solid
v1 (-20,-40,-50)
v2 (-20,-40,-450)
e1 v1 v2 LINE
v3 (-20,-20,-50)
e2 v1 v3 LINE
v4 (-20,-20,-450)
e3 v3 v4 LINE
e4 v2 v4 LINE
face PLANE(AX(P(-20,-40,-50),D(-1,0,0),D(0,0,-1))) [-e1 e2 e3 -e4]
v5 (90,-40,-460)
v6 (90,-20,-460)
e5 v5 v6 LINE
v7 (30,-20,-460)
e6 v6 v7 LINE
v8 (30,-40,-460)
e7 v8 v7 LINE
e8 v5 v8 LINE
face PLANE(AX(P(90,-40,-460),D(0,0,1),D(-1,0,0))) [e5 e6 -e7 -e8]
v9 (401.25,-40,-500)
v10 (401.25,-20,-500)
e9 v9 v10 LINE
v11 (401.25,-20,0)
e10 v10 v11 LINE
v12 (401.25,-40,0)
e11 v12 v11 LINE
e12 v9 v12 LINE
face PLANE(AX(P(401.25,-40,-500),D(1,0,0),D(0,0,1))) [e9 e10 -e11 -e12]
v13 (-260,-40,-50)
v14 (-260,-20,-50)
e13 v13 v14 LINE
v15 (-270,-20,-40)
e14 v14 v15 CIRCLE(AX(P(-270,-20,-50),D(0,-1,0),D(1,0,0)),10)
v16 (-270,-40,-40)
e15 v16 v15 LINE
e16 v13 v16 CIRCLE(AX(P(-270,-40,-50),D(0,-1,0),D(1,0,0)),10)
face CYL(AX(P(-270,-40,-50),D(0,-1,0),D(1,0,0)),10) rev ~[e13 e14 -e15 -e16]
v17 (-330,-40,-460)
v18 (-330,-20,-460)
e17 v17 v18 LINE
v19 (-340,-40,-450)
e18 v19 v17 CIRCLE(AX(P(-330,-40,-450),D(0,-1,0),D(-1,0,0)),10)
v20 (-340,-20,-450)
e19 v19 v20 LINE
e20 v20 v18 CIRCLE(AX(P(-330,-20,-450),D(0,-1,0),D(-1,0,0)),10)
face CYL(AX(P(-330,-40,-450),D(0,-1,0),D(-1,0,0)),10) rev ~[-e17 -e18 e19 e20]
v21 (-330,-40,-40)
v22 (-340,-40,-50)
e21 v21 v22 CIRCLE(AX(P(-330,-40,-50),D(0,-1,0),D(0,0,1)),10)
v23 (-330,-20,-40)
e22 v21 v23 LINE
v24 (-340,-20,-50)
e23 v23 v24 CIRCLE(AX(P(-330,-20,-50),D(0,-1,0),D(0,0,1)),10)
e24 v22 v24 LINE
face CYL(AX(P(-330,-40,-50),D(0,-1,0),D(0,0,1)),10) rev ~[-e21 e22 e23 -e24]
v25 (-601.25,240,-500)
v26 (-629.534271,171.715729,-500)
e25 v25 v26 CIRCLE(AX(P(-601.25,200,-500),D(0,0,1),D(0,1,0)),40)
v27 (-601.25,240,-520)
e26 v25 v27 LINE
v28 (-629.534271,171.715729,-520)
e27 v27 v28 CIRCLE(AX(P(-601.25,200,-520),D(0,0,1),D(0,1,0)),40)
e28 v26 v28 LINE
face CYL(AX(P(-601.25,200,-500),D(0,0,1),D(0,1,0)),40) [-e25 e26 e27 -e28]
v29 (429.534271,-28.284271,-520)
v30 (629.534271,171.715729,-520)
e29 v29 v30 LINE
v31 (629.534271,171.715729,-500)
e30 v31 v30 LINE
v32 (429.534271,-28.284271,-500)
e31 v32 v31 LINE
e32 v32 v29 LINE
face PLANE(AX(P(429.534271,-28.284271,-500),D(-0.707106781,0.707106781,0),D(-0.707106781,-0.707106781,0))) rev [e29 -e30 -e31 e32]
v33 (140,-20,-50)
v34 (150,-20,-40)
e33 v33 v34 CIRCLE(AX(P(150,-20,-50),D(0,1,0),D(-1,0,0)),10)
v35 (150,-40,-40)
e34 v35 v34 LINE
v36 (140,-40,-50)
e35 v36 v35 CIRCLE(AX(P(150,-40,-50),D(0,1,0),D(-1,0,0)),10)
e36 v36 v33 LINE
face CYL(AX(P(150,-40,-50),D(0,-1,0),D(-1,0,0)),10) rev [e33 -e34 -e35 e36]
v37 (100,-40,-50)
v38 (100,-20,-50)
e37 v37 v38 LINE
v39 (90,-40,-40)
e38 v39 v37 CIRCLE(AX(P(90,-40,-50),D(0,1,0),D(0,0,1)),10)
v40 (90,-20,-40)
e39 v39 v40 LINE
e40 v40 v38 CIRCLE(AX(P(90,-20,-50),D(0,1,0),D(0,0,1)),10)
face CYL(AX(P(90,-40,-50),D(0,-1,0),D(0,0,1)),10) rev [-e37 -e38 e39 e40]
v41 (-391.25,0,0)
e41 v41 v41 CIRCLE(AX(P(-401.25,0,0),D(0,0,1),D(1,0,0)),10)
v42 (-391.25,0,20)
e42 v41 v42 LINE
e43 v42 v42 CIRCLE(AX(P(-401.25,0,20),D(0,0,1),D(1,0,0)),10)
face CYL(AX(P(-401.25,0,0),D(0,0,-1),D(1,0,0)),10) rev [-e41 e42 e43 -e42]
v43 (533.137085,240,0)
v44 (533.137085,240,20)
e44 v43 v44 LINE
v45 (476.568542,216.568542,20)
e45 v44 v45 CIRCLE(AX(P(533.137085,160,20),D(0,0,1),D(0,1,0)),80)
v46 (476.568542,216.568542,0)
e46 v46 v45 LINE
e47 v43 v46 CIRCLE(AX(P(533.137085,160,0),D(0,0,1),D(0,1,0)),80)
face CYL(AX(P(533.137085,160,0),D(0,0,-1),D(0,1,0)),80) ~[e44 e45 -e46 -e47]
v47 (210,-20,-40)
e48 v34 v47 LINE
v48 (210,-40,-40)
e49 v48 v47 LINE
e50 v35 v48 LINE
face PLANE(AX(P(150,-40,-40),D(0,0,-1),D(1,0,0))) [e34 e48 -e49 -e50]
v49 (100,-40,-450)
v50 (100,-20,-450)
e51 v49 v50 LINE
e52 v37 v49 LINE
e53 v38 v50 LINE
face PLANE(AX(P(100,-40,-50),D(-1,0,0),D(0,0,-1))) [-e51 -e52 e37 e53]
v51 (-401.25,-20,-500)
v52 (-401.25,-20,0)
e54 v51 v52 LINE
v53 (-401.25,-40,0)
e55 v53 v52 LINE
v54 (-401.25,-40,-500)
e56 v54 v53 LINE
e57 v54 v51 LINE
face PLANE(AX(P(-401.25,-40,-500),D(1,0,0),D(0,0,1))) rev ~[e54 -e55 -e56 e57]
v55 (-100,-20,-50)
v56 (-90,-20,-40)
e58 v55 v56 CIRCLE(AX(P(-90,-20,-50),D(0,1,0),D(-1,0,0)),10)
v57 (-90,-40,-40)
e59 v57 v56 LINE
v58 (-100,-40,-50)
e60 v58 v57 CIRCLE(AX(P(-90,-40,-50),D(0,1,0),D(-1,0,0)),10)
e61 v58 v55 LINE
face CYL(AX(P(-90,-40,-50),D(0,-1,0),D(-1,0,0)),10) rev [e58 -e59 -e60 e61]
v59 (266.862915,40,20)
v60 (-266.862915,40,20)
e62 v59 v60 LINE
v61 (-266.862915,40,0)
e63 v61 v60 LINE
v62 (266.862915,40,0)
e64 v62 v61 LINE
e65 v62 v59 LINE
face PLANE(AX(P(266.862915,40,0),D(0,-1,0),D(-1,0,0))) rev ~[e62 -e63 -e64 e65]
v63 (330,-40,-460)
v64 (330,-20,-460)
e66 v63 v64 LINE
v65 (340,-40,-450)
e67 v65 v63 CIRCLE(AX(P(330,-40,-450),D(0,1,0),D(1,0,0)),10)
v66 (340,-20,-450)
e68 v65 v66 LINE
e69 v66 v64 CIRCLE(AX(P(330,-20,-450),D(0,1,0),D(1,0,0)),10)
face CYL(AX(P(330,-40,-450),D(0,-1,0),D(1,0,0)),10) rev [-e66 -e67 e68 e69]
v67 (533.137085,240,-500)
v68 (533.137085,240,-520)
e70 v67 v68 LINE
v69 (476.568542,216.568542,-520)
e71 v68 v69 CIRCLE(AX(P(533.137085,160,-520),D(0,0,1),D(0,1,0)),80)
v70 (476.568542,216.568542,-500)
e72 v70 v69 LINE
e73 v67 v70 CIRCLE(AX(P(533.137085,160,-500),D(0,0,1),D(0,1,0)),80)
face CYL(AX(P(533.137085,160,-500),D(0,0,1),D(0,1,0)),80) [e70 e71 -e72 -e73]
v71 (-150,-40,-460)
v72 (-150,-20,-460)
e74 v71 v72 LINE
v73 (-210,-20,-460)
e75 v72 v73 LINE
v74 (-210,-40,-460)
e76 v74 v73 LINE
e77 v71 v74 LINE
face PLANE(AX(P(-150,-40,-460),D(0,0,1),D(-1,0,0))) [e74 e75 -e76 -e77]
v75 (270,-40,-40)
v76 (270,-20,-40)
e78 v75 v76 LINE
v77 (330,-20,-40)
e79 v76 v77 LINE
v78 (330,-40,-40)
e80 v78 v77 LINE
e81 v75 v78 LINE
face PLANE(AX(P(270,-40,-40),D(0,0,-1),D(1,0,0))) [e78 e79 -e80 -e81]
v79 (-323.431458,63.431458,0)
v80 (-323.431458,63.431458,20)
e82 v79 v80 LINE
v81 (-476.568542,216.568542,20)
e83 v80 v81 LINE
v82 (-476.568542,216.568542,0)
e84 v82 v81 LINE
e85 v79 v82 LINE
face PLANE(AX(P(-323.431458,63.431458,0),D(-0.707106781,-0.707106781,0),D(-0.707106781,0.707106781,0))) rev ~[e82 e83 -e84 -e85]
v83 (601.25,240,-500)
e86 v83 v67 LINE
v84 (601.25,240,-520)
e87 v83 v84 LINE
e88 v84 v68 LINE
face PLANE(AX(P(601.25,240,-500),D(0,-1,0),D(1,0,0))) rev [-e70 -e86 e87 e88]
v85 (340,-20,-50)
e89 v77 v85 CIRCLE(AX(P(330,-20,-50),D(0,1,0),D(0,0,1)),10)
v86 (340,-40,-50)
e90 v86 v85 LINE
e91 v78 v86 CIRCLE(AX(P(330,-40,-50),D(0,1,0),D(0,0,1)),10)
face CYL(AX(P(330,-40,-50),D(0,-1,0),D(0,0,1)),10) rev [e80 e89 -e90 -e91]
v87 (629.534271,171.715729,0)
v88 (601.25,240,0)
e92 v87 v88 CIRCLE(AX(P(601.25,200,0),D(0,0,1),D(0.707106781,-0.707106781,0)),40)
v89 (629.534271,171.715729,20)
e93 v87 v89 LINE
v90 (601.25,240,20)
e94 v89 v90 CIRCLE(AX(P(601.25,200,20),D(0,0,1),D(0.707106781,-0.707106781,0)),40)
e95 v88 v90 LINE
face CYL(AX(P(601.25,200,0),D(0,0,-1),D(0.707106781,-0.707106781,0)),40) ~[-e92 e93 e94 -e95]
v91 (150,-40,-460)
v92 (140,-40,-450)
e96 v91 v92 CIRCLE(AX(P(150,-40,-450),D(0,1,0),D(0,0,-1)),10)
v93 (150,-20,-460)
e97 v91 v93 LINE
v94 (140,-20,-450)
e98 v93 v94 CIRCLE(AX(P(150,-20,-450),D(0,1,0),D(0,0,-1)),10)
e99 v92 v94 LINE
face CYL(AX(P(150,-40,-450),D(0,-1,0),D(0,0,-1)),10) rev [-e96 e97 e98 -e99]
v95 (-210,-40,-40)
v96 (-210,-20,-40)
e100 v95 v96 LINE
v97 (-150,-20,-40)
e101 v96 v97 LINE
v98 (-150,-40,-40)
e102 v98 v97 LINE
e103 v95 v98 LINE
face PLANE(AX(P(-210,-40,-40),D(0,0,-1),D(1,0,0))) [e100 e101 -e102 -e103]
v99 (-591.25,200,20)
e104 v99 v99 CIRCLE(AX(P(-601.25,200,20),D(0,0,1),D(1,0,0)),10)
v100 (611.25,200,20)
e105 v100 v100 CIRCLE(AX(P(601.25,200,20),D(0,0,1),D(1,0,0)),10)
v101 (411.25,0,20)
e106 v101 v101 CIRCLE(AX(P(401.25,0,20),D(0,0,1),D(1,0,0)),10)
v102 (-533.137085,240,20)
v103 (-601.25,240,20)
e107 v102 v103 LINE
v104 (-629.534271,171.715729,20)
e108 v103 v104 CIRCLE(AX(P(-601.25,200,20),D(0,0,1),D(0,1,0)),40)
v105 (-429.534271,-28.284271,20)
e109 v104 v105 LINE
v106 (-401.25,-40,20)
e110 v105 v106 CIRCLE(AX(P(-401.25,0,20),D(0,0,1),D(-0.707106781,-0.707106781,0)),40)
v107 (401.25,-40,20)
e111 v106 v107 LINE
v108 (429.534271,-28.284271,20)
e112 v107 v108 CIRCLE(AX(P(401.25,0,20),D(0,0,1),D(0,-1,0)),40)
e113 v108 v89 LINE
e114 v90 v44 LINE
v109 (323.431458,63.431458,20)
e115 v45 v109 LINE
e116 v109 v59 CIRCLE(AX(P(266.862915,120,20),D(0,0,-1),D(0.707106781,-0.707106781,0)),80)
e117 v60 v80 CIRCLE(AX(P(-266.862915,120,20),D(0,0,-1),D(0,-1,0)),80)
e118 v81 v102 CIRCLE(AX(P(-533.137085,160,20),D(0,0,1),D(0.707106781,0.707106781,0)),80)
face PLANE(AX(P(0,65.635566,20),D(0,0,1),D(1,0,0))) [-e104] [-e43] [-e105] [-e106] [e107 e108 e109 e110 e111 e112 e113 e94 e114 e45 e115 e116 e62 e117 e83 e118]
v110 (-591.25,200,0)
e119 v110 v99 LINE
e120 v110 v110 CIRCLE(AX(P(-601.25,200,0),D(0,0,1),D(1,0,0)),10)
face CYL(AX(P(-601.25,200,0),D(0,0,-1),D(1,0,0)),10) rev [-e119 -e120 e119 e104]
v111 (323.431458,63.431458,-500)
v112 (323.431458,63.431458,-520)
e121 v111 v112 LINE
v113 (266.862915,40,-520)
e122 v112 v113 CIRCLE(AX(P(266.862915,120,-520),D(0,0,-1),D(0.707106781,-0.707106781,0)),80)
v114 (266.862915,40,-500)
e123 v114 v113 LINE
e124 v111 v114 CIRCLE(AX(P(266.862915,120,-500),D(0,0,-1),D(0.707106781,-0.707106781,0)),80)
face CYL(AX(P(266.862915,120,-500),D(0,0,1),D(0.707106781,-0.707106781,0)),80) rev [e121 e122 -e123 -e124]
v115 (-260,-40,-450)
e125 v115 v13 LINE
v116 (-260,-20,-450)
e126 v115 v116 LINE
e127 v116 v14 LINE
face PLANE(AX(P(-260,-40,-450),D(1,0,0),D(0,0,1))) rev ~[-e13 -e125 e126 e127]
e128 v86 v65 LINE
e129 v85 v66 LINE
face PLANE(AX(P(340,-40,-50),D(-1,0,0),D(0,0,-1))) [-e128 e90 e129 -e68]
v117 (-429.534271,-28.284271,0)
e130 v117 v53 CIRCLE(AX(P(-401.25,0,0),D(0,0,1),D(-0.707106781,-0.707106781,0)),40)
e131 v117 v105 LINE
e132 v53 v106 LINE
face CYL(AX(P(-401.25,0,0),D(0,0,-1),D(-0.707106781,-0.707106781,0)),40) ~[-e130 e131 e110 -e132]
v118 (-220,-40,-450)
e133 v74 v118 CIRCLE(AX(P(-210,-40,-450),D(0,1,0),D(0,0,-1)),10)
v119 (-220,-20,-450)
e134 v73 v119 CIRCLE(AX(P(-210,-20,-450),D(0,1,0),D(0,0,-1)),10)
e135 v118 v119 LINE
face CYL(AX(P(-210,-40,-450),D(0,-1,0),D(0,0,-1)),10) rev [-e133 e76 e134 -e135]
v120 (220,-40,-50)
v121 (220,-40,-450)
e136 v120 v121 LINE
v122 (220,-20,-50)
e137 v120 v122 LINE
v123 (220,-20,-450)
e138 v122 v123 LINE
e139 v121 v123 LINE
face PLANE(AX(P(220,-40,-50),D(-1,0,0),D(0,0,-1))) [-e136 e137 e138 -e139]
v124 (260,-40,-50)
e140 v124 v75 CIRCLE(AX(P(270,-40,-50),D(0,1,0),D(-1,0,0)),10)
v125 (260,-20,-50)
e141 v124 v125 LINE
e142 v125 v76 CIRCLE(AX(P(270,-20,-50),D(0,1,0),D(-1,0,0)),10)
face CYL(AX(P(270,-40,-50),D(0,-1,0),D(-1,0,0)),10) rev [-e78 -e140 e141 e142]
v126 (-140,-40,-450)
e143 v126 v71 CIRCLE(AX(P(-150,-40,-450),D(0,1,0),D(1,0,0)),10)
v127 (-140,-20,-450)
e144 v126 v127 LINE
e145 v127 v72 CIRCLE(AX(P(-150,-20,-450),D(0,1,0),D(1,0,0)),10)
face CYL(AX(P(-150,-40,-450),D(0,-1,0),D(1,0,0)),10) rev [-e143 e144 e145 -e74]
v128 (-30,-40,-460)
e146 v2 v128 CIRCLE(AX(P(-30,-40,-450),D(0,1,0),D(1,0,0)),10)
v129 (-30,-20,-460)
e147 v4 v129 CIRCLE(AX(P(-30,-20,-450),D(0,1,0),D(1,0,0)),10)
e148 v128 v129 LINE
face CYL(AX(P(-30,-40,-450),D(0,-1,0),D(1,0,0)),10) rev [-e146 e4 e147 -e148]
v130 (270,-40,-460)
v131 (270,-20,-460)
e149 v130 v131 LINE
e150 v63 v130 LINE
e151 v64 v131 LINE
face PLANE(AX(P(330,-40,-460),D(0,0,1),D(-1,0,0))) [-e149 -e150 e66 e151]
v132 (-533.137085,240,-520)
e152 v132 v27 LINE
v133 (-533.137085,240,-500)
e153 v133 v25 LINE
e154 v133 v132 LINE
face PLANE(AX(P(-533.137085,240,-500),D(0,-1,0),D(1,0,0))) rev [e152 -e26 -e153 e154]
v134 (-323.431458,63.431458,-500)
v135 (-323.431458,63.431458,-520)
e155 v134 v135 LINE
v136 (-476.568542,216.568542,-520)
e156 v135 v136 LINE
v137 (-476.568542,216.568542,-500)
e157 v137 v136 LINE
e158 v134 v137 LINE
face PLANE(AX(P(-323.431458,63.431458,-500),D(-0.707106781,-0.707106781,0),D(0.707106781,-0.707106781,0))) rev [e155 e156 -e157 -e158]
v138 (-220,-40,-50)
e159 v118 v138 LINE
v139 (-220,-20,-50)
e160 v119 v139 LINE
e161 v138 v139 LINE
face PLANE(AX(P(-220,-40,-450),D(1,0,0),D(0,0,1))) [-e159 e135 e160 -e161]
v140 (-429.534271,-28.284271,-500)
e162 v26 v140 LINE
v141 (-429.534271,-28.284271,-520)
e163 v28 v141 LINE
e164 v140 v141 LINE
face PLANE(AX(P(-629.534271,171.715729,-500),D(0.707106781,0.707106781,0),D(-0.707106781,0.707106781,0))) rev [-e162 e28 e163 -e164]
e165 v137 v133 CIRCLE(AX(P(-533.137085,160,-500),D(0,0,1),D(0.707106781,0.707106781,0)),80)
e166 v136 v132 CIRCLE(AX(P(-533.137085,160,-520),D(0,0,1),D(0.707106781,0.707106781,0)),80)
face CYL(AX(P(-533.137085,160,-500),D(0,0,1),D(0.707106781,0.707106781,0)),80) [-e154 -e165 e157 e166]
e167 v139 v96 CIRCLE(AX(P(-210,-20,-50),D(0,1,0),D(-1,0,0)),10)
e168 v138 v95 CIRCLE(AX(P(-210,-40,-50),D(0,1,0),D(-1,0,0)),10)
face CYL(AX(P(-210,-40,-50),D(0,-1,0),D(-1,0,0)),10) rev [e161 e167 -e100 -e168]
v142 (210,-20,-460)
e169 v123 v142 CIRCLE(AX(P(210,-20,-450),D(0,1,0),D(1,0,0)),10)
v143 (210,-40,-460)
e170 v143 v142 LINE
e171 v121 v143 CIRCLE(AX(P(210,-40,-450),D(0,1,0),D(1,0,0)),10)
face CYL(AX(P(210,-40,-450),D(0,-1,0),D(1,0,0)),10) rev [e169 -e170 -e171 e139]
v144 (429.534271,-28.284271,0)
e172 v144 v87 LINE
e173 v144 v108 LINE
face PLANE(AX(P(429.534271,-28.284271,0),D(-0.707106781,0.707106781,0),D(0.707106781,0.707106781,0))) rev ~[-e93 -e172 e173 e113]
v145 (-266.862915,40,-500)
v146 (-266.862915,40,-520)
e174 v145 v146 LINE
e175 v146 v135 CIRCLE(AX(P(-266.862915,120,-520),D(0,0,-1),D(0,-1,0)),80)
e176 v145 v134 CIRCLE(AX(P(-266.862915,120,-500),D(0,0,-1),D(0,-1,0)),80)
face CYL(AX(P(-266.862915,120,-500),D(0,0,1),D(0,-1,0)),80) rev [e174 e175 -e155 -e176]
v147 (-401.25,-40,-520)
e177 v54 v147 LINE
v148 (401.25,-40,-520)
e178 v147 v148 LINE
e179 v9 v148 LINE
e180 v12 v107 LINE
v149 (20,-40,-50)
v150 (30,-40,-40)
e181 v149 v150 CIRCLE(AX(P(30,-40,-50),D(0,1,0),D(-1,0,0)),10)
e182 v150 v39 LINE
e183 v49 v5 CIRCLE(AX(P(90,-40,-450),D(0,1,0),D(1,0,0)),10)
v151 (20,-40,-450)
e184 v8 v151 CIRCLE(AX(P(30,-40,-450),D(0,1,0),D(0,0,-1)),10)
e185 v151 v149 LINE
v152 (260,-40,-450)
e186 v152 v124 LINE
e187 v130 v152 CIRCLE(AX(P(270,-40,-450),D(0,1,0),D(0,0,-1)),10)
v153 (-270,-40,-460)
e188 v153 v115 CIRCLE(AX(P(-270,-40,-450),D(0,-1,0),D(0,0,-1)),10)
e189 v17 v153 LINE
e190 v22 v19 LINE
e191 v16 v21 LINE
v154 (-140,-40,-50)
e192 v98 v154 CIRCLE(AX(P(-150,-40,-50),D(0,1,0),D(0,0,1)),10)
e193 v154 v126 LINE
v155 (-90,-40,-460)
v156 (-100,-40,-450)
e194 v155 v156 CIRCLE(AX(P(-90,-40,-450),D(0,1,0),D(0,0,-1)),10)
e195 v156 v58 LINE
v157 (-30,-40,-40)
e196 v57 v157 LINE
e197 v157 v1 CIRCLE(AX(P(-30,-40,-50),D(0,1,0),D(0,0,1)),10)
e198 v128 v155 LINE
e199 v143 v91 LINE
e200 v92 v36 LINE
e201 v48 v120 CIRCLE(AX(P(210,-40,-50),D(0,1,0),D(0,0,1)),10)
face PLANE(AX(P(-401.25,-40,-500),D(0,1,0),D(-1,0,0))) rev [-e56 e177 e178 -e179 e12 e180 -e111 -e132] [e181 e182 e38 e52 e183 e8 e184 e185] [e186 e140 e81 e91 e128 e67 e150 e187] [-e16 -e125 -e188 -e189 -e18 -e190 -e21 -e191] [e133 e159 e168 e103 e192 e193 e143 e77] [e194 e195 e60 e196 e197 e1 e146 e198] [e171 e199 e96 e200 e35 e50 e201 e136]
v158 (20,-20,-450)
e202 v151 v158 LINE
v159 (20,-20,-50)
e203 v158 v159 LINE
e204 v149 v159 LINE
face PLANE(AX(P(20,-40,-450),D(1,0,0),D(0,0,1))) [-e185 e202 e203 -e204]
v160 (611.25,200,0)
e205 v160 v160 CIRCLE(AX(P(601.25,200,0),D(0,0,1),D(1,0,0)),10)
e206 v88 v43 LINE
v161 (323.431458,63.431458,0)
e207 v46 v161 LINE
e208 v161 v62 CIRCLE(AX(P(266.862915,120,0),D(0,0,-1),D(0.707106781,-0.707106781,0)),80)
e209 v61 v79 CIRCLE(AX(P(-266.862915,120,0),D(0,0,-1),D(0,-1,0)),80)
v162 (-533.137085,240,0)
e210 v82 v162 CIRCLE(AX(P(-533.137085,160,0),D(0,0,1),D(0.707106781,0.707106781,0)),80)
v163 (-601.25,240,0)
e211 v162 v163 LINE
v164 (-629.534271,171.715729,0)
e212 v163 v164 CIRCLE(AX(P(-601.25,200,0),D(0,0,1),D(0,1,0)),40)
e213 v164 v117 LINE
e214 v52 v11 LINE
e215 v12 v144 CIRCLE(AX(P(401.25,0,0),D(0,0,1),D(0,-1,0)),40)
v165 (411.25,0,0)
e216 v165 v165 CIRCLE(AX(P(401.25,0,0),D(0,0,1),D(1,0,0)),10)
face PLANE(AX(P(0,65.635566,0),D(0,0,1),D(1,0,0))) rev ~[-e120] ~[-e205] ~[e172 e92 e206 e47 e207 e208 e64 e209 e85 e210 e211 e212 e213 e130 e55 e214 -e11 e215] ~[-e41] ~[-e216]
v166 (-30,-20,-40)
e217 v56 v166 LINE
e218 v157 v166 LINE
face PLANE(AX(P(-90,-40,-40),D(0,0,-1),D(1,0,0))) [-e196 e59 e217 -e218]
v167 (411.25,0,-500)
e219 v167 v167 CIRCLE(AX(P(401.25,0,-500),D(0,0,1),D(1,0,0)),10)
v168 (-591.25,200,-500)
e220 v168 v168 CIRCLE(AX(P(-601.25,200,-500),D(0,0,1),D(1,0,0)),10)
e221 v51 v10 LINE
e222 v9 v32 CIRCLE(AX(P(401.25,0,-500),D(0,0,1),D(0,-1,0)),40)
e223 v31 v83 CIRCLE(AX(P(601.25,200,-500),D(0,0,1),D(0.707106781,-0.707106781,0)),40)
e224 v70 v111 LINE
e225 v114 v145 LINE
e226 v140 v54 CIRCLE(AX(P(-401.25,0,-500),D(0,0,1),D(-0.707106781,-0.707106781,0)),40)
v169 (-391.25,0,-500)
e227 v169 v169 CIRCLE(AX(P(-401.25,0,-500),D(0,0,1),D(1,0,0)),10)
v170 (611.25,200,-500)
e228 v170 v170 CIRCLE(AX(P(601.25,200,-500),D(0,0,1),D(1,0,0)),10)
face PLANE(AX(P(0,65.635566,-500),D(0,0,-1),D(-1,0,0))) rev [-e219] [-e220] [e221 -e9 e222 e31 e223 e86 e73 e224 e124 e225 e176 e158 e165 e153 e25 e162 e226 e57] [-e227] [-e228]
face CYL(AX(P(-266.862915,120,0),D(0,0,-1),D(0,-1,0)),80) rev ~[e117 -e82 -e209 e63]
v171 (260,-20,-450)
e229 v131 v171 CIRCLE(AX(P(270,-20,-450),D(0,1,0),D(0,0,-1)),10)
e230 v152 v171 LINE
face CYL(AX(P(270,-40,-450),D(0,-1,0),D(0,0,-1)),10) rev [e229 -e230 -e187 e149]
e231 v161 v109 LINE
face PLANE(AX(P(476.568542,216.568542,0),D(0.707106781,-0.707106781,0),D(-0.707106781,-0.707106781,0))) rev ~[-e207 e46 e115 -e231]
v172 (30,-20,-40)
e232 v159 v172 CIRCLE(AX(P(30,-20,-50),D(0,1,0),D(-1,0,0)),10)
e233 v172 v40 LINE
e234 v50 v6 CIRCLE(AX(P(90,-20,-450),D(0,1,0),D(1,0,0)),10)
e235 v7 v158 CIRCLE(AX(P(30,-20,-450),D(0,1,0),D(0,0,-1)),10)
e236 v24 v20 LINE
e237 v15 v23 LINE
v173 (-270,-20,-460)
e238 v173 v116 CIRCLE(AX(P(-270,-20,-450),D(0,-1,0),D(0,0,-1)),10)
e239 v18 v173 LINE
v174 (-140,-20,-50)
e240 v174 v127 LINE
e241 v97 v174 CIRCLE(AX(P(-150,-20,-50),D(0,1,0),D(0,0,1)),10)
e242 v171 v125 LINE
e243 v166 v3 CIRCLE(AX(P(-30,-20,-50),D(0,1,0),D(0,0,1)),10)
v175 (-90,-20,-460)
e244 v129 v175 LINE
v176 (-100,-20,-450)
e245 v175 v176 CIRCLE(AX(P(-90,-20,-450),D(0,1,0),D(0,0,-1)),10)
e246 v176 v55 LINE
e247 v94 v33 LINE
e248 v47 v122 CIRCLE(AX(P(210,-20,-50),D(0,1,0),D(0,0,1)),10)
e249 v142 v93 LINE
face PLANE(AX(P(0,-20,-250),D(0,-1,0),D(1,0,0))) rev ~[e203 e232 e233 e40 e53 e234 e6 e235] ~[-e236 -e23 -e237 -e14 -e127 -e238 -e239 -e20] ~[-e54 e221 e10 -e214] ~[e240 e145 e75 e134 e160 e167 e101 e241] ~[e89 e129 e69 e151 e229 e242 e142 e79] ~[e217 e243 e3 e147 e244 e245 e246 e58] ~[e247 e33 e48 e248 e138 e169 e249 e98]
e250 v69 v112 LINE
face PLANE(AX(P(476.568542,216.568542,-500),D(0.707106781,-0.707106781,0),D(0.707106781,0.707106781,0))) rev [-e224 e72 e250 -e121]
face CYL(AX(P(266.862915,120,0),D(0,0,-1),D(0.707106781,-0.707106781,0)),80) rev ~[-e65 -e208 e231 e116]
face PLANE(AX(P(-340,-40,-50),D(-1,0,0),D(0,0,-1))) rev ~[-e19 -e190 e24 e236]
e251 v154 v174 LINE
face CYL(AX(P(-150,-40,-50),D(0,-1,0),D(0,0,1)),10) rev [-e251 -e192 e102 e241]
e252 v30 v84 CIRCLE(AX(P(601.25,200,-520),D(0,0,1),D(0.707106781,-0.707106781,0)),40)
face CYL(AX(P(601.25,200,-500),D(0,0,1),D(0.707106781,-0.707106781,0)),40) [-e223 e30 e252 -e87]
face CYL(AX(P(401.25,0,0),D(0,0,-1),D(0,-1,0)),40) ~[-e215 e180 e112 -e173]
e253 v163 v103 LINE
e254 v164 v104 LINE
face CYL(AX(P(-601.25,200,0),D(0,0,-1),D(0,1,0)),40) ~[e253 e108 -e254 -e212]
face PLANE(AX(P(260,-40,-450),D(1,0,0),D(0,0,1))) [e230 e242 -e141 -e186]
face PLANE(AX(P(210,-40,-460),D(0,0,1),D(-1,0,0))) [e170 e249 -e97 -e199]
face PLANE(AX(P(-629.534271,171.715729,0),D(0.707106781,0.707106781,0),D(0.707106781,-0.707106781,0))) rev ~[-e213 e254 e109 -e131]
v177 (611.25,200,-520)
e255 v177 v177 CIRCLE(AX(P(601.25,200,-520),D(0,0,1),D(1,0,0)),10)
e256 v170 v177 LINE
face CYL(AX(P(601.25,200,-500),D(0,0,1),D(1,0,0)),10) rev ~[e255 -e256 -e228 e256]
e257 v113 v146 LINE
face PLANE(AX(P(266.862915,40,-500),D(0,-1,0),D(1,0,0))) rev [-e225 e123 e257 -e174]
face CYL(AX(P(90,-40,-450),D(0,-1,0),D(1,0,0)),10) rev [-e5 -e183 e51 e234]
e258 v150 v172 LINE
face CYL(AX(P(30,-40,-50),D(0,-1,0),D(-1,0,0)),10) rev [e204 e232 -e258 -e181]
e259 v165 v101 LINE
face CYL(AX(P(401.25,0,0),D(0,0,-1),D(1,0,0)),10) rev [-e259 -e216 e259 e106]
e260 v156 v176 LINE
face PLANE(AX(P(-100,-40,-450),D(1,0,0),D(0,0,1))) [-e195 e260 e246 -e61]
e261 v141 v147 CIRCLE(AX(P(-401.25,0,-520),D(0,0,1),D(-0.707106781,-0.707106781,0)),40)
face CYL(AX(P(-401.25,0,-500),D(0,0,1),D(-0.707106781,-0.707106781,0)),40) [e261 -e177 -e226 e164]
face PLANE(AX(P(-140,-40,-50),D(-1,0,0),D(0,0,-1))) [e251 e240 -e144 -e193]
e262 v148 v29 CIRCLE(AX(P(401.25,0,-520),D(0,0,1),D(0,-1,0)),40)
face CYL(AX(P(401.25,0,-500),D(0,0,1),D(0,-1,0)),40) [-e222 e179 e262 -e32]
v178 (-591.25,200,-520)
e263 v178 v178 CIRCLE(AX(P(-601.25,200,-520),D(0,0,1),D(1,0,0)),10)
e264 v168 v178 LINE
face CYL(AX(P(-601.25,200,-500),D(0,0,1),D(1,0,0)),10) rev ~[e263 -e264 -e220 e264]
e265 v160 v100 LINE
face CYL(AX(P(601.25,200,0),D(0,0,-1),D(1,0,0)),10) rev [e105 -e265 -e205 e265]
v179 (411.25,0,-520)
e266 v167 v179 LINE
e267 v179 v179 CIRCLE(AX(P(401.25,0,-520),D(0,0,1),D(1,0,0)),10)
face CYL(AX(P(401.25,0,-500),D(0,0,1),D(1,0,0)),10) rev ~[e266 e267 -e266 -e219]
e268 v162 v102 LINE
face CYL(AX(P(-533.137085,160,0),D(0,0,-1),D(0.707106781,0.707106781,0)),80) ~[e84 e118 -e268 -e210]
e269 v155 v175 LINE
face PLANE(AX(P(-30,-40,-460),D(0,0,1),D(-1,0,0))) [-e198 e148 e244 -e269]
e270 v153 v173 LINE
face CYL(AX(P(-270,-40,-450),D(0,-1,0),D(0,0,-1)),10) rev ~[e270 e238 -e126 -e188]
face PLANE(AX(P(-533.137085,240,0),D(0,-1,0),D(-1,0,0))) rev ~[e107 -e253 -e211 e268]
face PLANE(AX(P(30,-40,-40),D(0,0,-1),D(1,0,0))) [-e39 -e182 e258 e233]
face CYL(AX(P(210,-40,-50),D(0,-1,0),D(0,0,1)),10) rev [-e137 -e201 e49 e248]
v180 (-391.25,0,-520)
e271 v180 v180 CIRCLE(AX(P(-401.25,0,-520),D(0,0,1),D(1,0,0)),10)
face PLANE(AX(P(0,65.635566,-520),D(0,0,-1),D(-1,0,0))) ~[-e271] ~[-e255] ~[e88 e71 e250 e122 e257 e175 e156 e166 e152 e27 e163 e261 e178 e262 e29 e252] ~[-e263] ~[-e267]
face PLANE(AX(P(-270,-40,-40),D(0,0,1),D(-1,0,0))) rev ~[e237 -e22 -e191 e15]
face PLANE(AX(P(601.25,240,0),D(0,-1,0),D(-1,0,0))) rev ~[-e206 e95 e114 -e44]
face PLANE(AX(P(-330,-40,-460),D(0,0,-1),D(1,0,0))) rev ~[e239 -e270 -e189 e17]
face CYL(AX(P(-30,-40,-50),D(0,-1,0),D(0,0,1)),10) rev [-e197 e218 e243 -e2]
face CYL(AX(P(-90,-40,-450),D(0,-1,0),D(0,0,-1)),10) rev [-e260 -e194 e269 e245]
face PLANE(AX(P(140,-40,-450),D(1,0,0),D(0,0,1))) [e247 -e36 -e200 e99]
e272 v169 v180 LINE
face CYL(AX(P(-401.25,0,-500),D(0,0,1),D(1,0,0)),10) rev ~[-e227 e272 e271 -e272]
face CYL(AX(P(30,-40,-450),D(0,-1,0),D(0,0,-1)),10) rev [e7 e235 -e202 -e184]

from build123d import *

# Parameters (mm, degrees)
SKETCH1_R           = 10
BOSS_EXTRUDE1_DEPTH = 20
SKETCH2_W           = 802.5
SKETCH2_H           = 500
BOSS_EXTRUDE3_DEPTH = 20


with BuildPart() as part:
    # Sketch1 → Boss-Extrude1 (new body)
    with BuildSketch(Plane.XY):
        with BuildLine():
            Line((-401.25, -40), (401.25, -40))
            ThreePointArc((401.25, -40), (416.557337295, -36.9551813), (429.534271247, -28.284271247))
            Line((429.534271247, -28.284271247), (629.534271247, 171.715728753))
            ThreePointArc((629.534271247, 171.715728753), (638.2051813, 215.307337295), (601.25, 240))
            Line((601.25, 240), (533.13708499, 240))
            ThreePointArc((533.13708499, 240), (502.522410401, 233.910362601), (476.568542495, 216.568542495))
            Line((476.568542495, 216.568542495), (323.431457505, 63.431457505))
            ThreePointArc((323.431457505, 63.431457505), (297.477589599, 46.089637399), (266.86291501, 40))
            Line((266.86291501, 40), (-266.86291501, 40))
            ThreePointArc((-266.86291501, 40), (-297.477589599, 46.089637399), (-323.431457505, 63.431457505))
            Line((-323.431457505, 63.431457505), (-476.568542495, 216.568542495))
            ThreePointArc((-476.568542495, 216.568542495), (-502.522410401, 233.910362601), (-533.13708499, 240))
            Line((-533.13708499, 240), (-601.25, 240))
            ThreePointArc((-601.25, 240), (-638.2051813, 215.307337295), (-629.534271247, 171.715728753))
            Line((-629.534271247, 171.715728753), (-429.534271247, -28.284271247))
            ThreePointArc((-429.534271247, -28.284271247), (-416.557337295, -36.9551813), (-401.25, -40))
        make_face()
        with Locations((601.25, 200)):
            Circle(SKETCH1_R, mode=Mode.SUBTRACT)
        with Locations((401.25, 0)):
            Circle(SKETCH1_R, mode=Mode.SUBTRACT)
        with Locations((-401.25, 0)):
            Circle(SKETCH1_R, mode=Mode.SUBTRACT)
        with Locations((-601.25, 200)):
            Circle(SKETCH1_R, mode=Mode.SUBTRACT)
    boss_extrude1 = extrude(amount=BOSS_EXTRUDE1_DEPTH)

    # Sketch2 → Boss-Extrude3 (add)
    with BuildSketch(Plane.XZ.offset(40)):
        with Locations((0, -250)):
            Rectangle(SKETCH2_W, SKETCH2_H)
        with BuildLine():
            Line((-330, -460), (-270, -460))
            ThreePointArc((-270, -460), (-262.928932188, -457.071067812), (-260, -450))
            Line((-260, -450), (-260, -50))
            ThreePointArc((-260, -50), (-262.928932188, -42.928932188), (-270, -40))
            Line((-270, -40), (-330, -40))
            ThreePointArc((-330, -40), (-337.071067812, -42.928932188), (-340, -50))
            Line((-340, -50), (-340, -450))
            ThreePointArc((-340, -450), (-337.071067812, -457.071067812), (-330, -460))
        make_face(mode=Mode.SUBTRACT)
        with BuildLine():
            Line((-220, -450), (-220, -50))
            ThreePointArc((-220, -50), (-217.071067812, -42.928932188), (-210, -40))
            Line((-210, -40), (-150, -40))
            ThreePointArc((-150, -40), (-142.928932188, -42.928932188), (-140, -50))
            Line((-140, -50), (-140, -450))
            ThreePointArc((-140, -450), (-142.928932188, -457.071067812), (-150, -460))
            Line((-150, -460), (-210, -460))
            ThreePointArc((-210, -460), (-217.071067812, -457.071067812), (-220, -450))
        make_face(mode=Mode.SUBTRACT)
        with BuildLine():
            Line((-100, -450), (-100, -50))
            ThreePointArc((-100, -50), (-97.071067812, -42.928932188), (-90, -40))
            Line((-90, -40), (-30, -40))
            ThreePointArc((-30, -40), (-22.928932188, -42.928932188), (-20, -50))
            Line((-20, -50), (-20, -450))
            ThreePointArc((-20, -450), (-22.928932188, -457.071067812), (-30, -460))
            Line((-30, -460), (-90, -460))
            ThreePointArc((-90, -460), (-97.071067812, -457.071067812), (-100, -450))
        make_face(mode=Mode.SUBTRACT)
        with BuildLine():
            Line((20, -450), (20, -50))
            ThreePointArc((20, -50), (22.928932188, -42.928932188), (30, -40))
            Line((30, -40), (90, -40))
            ThreePointArc((90, -40), (97.071067812, -42.928932188), (100, -50))
            Line((100, -50), (100, -450))
            ThreePointArc((100, -450), (97.071067812, -457.071067812), (90, -460))
            Line((90, -460), (30, -460))
            ThreePointArc((30, -460), (22.928932188, -457.071067812), (20, -450))
        make_face(mode=Mode.SUBTRACT)
        with BuildLine():
            Line((140, -450), (140, -50))
            ThreePointArc((140, -50), (142.928932188, -42.928932188), (150, -40))
            Line((150, -40), (210, -40))
            ThreePointArc((210, -40), (217.071067812, -42.928932188), (220, -50))
            Line((220, -50), (220, -450))
            ThreePointArc((220, -450), (217.071067812, -457.071067812), (210, -460))
            Line((210, -460), (150, -460))
            ThreePointArc((150, -460), (142.928932188, -457.071067812), (140, -450))
        make_face(mode=Mode.SUBTRACT)
        with BuildLine():
            Line((260, -450), (260, -50))
            ThreePointArc((260, -50), (262.928932188, -42.928932188), (270, -40))
            Line((270, -40), (330, -40))
            ThreePointArc((330, -40), (337.071067812, -42.928932188), (340, -50))
            Line((340, -50), (340, -450))
            ThreePointArc((340, -450), (337.071067812, -457.071067812), (330, -460))
            Line((330, -460), (270, -460))
            ThreePointArc((270, -460), (262.928932188, -457.071067812), (260, -450))
        make_face(mode=Mode.SUBTRACT)
    extrude(amount=-BOSS_EXTRUDE3_DEPTH)

    # Mirror1: Boss-Extrude1 across plane
    add(boss_extrude1.mirror(Plane(origin=(0, 0, -250), x_dir=(1, 0, 0), z_dir=(0, 0, -1))))


solid = part.part
